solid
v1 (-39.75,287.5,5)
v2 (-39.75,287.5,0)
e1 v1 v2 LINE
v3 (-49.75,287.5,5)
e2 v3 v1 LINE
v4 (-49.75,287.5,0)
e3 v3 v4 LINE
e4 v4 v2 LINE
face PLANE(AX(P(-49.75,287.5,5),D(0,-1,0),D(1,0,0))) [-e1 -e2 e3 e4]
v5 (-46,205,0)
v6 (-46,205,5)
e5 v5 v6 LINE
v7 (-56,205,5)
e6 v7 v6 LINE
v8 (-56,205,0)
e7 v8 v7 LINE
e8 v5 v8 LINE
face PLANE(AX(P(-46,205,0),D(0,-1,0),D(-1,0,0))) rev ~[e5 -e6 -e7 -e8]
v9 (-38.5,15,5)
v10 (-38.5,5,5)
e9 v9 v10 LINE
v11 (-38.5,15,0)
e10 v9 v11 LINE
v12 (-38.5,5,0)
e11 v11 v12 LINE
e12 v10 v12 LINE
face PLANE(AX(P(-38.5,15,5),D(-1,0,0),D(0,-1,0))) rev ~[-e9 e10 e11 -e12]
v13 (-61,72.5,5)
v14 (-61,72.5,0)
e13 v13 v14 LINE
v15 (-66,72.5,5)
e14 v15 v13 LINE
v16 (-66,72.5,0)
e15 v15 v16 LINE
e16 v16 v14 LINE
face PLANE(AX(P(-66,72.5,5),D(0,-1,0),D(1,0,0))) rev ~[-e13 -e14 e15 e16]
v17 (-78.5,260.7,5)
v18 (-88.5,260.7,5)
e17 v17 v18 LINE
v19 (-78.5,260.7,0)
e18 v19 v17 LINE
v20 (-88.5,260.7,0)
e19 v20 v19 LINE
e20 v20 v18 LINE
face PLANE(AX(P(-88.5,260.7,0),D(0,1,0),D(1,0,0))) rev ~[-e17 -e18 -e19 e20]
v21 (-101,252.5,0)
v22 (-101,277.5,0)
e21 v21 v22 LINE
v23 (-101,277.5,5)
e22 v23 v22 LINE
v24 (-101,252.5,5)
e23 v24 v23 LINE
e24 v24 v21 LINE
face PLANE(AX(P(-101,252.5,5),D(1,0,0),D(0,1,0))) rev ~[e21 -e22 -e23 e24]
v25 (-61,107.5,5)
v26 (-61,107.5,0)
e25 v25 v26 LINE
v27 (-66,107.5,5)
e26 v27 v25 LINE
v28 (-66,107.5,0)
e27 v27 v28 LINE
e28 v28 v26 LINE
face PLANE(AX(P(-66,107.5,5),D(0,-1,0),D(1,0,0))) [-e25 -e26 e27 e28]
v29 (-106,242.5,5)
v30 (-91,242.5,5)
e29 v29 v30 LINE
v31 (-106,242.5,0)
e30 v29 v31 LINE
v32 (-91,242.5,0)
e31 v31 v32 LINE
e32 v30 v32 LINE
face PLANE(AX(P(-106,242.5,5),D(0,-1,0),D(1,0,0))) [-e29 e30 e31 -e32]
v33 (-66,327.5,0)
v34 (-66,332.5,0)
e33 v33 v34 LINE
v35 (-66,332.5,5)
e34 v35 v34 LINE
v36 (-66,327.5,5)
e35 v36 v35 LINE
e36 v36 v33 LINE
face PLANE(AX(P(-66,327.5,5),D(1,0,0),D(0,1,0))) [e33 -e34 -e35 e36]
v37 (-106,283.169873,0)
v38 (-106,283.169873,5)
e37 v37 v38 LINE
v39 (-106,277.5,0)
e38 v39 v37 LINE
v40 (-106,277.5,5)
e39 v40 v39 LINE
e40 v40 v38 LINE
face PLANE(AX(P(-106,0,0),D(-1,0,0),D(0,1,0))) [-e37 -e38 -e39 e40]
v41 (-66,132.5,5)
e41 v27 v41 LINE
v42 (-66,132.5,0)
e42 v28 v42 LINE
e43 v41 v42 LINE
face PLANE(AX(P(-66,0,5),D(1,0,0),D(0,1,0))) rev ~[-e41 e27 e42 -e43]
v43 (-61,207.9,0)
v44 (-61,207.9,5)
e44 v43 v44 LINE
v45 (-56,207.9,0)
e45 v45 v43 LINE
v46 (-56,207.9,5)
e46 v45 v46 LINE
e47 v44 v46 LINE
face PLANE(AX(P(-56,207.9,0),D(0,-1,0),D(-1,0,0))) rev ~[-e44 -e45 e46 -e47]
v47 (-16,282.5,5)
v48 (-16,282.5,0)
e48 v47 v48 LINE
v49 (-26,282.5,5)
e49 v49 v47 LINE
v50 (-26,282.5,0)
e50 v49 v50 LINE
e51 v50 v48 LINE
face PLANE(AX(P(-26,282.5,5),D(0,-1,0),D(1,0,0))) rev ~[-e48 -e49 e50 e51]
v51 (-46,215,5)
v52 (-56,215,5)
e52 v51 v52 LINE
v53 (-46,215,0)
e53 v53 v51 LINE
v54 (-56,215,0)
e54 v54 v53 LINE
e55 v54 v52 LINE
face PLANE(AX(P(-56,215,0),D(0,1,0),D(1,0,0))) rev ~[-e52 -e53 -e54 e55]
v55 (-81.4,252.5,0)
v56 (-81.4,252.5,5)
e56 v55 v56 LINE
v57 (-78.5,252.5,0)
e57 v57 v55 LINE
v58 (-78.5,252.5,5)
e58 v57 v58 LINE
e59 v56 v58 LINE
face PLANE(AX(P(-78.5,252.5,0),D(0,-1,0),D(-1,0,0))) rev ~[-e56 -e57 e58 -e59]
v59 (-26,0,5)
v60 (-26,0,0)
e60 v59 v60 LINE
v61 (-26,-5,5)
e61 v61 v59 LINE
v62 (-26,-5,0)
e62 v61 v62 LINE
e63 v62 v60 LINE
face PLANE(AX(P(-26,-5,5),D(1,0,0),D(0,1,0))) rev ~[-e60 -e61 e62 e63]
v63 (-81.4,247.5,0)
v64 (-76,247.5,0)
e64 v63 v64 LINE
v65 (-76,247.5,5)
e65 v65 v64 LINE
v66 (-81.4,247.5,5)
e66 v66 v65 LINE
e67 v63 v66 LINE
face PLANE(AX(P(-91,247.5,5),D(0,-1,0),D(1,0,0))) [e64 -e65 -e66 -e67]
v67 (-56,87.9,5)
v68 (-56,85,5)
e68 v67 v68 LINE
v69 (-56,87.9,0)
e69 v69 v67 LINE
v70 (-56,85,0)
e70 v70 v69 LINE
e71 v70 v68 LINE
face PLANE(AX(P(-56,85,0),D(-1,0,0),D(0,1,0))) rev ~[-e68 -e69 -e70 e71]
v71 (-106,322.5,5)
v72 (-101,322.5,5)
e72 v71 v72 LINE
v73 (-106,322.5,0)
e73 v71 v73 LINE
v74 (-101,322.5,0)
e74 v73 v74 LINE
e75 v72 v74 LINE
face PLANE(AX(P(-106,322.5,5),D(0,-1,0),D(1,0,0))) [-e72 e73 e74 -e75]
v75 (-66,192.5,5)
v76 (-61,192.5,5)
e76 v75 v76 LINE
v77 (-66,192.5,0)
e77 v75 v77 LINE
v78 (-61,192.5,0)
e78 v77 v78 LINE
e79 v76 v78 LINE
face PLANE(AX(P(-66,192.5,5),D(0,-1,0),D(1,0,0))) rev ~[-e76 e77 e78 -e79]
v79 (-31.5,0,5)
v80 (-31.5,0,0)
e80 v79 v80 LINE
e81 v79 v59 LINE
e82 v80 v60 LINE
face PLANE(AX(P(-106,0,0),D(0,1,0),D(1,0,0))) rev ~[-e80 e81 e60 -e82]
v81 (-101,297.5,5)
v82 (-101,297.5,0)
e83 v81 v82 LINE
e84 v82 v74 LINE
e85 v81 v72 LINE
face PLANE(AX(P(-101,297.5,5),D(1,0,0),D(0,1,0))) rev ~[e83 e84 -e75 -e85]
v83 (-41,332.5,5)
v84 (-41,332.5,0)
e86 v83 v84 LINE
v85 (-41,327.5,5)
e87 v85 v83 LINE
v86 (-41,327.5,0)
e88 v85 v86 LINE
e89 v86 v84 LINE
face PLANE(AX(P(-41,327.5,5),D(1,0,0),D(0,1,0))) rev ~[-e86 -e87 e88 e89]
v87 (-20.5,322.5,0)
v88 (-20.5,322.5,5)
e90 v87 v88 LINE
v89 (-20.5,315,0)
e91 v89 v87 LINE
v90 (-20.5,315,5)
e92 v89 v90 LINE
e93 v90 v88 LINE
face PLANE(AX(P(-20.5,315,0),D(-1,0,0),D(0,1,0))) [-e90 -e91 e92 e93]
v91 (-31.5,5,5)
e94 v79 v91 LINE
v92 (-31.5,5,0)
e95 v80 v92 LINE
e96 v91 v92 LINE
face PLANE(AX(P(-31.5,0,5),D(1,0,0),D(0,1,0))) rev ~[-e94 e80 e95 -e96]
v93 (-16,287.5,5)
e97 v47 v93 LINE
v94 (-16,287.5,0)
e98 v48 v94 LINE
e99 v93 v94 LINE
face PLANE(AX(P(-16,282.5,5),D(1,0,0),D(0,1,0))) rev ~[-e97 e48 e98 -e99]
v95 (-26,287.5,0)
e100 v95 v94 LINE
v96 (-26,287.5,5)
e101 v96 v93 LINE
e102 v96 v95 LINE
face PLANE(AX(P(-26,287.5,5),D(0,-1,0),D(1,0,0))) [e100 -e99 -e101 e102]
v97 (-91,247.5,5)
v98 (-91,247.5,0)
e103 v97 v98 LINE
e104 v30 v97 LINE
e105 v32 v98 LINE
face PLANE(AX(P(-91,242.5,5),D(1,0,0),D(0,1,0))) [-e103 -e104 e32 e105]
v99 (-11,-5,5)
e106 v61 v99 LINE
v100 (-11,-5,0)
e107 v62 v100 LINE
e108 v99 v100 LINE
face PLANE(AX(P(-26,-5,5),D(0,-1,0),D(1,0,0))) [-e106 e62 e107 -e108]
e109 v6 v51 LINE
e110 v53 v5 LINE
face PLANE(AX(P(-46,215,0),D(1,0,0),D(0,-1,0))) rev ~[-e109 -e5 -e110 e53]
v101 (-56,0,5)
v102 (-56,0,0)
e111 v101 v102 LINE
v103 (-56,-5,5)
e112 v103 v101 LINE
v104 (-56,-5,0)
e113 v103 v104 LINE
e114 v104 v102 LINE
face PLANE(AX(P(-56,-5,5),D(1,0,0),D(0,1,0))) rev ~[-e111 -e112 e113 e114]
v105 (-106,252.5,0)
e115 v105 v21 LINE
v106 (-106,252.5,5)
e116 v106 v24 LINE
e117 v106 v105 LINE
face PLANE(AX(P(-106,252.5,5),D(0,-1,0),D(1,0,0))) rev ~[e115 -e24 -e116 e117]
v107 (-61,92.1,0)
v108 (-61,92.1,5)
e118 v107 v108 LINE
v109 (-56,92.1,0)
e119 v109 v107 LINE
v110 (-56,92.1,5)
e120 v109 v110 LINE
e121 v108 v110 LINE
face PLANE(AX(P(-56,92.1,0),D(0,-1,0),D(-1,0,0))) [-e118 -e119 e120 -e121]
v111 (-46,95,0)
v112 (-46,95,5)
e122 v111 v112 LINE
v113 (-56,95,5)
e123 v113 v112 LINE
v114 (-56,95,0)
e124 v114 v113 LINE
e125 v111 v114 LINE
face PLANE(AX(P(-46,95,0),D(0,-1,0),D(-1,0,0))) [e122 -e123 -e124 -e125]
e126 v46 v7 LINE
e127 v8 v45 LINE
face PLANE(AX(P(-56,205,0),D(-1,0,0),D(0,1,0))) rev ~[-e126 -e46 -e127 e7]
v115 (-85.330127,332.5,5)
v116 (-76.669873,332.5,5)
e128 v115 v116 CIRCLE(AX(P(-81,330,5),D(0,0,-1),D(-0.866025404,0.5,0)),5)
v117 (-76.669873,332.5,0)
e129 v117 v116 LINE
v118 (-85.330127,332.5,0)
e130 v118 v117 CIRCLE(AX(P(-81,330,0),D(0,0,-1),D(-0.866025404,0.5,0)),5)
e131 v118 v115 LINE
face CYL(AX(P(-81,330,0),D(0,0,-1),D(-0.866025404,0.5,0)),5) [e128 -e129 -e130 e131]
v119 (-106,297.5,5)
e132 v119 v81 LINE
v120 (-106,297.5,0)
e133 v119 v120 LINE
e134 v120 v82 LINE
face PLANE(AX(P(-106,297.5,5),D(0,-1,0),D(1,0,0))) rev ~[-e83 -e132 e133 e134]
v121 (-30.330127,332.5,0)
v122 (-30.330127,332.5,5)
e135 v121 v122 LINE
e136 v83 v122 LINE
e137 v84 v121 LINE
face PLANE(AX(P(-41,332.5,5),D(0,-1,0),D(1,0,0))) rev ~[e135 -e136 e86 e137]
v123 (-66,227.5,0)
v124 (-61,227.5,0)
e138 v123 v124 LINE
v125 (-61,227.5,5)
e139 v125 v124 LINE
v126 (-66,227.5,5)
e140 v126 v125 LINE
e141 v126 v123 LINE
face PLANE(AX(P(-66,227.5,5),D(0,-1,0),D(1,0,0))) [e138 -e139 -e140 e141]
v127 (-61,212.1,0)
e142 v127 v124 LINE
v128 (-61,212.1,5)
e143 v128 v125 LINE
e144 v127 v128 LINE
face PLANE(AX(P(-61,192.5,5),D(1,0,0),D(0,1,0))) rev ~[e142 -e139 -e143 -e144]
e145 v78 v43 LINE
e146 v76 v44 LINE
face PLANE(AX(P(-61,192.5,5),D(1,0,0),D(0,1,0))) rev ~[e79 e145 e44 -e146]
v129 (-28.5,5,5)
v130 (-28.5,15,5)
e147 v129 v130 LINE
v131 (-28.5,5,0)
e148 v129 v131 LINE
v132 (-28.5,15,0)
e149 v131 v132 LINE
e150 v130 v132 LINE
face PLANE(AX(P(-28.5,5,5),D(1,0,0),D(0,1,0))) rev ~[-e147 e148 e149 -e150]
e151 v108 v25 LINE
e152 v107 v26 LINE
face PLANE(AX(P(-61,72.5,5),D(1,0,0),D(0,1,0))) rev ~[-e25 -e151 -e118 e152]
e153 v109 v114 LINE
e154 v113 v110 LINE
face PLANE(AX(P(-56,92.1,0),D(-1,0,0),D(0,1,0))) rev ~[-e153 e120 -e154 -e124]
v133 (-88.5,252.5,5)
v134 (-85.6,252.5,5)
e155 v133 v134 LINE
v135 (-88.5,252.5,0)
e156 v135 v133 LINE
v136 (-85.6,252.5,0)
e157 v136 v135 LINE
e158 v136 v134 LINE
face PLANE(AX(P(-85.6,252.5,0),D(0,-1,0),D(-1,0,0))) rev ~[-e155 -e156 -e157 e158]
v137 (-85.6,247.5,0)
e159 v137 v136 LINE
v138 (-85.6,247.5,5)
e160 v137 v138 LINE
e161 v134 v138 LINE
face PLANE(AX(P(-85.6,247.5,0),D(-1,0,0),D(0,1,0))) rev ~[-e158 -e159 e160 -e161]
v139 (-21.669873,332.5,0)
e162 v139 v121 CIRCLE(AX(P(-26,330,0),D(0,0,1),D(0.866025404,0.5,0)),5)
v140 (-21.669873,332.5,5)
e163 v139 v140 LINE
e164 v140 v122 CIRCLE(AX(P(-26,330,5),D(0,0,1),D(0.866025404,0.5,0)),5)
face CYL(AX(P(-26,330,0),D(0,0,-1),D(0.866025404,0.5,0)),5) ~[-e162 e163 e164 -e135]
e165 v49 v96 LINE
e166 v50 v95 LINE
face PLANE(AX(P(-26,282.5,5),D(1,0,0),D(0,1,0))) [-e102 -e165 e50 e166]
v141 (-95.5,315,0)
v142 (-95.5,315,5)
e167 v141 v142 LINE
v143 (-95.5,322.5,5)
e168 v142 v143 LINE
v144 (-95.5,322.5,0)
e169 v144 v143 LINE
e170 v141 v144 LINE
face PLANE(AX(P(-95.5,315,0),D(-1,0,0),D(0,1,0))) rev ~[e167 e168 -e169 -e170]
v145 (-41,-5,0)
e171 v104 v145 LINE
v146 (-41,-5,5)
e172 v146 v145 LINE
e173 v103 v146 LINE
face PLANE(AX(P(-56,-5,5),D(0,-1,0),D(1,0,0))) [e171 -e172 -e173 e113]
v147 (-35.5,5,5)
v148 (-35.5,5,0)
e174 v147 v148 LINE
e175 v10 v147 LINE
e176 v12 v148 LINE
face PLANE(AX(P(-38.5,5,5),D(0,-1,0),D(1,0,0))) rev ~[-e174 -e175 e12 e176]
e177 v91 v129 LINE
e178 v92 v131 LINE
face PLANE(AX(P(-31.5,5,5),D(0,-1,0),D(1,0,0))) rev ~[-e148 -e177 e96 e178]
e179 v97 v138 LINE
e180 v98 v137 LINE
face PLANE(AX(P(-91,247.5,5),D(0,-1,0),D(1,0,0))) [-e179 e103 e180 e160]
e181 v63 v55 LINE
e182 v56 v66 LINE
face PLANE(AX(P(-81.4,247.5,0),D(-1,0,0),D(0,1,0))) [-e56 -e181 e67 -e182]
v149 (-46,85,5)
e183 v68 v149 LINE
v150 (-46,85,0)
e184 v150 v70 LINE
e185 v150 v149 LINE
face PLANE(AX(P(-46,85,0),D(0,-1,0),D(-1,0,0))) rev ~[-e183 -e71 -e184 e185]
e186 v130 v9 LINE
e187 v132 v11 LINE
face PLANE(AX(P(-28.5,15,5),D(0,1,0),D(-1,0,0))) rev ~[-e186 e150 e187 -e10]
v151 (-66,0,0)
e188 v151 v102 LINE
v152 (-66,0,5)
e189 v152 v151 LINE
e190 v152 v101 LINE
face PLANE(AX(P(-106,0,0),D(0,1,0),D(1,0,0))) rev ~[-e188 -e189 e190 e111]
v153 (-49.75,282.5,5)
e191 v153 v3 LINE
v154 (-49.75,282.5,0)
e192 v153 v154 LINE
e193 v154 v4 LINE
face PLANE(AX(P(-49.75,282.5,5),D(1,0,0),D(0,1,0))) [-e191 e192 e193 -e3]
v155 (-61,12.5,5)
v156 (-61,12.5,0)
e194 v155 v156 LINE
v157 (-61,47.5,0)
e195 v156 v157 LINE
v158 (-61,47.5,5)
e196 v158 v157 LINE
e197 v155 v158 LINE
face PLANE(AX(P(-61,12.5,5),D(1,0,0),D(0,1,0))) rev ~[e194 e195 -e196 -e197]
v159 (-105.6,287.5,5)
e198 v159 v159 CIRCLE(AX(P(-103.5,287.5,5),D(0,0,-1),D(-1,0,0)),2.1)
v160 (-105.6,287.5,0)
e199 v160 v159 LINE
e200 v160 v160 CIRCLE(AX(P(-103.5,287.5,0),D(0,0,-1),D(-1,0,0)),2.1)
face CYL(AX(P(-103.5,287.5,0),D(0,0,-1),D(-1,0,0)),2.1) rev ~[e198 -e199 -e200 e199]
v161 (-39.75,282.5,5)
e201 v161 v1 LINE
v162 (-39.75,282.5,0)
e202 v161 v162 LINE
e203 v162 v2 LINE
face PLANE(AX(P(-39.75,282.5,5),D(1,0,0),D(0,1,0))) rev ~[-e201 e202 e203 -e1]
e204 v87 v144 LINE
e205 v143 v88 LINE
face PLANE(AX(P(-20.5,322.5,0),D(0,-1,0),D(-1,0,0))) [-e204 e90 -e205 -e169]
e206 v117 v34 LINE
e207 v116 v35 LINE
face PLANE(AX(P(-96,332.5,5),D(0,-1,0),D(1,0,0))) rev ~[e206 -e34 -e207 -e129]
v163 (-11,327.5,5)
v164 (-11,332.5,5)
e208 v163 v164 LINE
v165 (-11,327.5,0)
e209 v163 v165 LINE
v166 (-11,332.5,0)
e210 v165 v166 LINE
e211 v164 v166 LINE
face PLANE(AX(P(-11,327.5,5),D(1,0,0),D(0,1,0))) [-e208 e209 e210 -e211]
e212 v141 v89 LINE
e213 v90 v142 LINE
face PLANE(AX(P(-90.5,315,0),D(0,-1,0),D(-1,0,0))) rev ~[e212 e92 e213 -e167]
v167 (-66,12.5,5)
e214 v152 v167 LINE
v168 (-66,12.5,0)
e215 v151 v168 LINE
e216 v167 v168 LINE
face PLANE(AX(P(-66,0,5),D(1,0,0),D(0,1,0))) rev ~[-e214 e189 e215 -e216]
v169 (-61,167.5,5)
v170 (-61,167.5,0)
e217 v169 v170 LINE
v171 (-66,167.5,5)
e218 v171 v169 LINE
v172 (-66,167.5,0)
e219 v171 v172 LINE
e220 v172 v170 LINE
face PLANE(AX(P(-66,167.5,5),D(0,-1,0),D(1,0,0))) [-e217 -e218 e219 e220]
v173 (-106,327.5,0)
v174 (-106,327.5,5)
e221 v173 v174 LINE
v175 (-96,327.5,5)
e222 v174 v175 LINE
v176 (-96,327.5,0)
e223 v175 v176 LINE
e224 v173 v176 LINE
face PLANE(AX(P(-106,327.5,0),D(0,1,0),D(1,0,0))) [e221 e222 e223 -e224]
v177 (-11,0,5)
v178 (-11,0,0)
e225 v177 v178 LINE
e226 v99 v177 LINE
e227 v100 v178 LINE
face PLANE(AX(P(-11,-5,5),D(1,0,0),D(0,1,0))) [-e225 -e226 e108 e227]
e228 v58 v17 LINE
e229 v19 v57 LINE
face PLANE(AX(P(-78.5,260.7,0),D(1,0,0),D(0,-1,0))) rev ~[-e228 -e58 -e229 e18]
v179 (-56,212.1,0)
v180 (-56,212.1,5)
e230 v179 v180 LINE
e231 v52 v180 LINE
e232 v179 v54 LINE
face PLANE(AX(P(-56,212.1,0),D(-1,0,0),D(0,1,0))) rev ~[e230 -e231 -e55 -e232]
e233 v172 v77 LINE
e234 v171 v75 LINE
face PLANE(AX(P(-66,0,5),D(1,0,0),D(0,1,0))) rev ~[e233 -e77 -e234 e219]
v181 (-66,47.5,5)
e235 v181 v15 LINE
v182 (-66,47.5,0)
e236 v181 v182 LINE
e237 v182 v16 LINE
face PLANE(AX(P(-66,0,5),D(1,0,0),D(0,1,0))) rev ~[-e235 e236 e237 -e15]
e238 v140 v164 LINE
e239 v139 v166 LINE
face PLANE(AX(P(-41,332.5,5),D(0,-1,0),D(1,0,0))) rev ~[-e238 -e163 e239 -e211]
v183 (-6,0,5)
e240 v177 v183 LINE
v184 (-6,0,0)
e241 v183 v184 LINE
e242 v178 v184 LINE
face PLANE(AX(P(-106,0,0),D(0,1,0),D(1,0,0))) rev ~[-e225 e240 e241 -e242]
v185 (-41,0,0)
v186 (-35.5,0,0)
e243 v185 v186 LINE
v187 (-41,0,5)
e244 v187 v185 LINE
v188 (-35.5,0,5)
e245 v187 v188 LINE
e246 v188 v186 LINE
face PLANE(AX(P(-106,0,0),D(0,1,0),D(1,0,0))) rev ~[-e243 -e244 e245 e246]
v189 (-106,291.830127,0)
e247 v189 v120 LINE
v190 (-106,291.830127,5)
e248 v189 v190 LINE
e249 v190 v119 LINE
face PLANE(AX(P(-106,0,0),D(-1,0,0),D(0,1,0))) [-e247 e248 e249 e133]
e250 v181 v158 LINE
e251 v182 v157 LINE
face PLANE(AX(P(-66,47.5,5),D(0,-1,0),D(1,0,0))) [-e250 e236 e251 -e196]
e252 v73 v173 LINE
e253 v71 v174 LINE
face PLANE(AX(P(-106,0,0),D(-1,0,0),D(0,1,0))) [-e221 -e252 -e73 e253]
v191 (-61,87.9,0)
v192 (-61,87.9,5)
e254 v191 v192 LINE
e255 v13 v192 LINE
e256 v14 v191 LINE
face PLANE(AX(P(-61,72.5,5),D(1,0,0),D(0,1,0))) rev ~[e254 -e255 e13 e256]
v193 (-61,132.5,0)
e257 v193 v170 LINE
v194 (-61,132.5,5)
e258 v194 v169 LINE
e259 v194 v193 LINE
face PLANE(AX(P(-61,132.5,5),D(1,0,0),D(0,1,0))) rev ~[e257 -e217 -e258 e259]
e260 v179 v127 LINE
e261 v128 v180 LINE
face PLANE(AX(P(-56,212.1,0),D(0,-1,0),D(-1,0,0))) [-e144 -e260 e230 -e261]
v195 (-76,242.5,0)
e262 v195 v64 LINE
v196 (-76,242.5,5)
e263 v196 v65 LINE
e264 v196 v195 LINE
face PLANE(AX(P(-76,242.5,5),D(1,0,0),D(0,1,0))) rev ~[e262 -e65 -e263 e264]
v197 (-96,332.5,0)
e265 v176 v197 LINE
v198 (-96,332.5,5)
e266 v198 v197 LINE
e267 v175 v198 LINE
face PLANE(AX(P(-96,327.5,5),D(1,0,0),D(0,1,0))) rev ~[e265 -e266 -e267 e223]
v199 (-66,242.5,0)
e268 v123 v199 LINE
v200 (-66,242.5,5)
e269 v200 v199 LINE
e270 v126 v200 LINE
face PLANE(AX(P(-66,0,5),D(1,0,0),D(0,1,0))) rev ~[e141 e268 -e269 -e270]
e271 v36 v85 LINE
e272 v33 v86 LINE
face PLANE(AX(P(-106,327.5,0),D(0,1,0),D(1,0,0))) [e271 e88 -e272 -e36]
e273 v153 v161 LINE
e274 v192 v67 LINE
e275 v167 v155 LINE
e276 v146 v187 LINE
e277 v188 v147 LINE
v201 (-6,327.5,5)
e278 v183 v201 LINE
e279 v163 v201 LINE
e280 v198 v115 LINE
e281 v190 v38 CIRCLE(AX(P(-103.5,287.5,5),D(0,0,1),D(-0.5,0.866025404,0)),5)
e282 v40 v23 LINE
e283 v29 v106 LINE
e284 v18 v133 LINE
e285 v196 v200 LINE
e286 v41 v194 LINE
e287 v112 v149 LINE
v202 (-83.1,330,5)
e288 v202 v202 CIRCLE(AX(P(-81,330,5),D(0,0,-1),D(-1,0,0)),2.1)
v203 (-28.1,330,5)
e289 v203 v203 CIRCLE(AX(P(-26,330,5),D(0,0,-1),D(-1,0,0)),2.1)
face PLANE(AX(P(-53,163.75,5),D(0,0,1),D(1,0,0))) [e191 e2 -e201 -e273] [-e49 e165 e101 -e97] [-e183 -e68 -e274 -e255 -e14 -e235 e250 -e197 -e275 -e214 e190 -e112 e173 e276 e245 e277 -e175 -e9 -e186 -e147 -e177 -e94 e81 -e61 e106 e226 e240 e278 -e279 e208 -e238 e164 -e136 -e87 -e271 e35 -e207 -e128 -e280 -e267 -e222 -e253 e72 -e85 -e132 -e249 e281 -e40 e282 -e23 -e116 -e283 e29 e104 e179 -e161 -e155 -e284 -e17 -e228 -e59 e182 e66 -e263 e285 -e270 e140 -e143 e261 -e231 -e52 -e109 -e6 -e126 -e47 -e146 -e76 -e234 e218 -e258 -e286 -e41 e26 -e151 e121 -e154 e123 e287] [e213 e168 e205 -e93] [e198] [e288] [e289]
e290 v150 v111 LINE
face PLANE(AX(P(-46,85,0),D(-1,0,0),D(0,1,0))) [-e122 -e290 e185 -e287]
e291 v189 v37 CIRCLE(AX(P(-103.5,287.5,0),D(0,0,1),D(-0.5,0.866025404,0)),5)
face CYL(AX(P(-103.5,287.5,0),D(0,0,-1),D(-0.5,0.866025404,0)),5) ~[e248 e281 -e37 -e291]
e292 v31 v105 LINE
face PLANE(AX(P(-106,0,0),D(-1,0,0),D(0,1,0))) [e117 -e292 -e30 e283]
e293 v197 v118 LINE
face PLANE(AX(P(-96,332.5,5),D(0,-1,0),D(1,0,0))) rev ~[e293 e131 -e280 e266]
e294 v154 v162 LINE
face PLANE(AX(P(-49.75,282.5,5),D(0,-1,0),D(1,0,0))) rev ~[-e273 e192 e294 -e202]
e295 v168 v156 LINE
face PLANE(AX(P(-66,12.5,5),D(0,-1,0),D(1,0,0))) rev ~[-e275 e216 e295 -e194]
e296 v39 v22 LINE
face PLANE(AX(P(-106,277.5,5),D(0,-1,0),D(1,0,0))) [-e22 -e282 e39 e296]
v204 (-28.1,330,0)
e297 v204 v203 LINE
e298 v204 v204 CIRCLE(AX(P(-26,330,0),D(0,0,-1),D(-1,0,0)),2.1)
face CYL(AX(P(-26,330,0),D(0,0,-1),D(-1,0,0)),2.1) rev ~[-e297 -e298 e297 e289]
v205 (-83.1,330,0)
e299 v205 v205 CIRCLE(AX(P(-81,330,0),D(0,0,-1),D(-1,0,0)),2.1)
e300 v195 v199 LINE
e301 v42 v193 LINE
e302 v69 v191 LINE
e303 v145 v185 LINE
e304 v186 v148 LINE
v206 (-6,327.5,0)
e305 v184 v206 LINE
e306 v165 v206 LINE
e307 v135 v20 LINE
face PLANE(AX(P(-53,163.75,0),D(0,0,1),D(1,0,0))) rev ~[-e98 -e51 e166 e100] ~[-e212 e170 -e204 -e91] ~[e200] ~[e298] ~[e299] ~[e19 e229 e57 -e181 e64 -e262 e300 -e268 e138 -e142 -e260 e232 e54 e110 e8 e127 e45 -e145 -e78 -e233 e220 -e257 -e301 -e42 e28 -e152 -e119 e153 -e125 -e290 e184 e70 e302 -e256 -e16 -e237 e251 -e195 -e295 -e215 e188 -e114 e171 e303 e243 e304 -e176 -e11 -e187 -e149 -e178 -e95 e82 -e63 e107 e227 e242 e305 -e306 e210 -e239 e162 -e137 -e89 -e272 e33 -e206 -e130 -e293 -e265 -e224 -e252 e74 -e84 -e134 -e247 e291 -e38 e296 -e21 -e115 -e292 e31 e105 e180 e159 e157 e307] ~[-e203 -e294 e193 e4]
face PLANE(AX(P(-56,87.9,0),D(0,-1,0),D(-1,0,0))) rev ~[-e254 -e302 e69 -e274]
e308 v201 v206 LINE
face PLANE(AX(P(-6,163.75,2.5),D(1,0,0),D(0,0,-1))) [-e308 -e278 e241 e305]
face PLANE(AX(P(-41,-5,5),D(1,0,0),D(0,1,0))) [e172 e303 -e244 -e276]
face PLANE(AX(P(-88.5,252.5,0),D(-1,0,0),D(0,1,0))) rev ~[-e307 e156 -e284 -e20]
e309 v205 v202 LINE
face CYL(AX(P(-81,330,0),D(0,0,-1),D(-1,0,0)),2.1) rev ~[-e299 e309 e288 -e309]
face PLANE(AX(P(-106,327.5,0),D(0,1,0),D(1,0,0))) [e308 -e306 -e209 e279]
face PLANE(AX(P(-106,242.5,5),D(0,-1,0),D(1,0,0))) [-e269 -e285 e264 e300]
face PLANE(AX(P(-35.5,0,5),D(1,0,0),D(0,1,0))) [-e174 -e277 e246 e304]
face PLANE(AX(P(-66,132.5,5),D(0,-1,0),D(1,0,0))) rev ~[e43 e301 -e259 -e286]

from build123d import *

# Parameters (mm, degrees)
SKETCH1_W           = 106
SKETCH1_H           = 327.5
BOSS_EXTRUDE1_DEPTH = 5
SKETCH2_W           = 40
SKETCH2_H           = 242.5
CUT_EXTRUDE1_DEPTH  = 5
SKETCH3_W           = 5
SKETCH3_H           = 25
CUT_EXTRUDE2_DEPTH  = 5
SKETCH4_W           = 30
SKETCH4_H           = 5
BOSS_EXTRUDE2_DEPTH = 5
SKETCH5_W           = 15
SKETCH5_H           = 5
CUT_EXTRUDE3_DEPTH  = 5
SKETCH6_W           = 5
SKETCH6_H           = 35
CUT_EXTRUDE4_DEPTH  = 5
SKETCH7_W           = 10
SKETCH7_H           = 5
CUT_EXTRUDE5_DEPTH  = 5
SKETCH8_W           = 15
SKETCH8_H           = 5
BOSS_EXTRUDE3_DEPTH = 5
SKETCH9_W           = 70
SKETCH9_H           = 7.5
CUT_EXTRUDE6_DEPTH  = 5
SKETCH10_W          = 5
SKETCH10_H          = 227.5
BOSS_EXTRUDE4_DEPTH = 5
SKETCH11_R          = 2.1
CUT_EXTRUDE7_DEPTH  = 5
BOSS_EXTRUDE5_DEPTH = 5
SKETCH13_W          = 10
SKETCH13_H          = 327.5
SKETCH13_W_2        = 11.118393302
SKETCH13_H_2        = 31.265749724
SKETCH13_W_3        = 24.993123917
SKETCH13_H_3        = 36.030112223
CUT_EXTRUDE8_DEPTH  = 10
SKETCH14_W          = 5
SKETCH14_H          = 327.5
CUT_EXTRUDE9_DEPTH  = 1
SKETCH15_W          = 4.2
SKETCH15_H          = 5
SKETCH15_W_2        = 5
SKETCH15_H_2        = 4.2
SKETCH15_W_3        = 10
SKETCH15_H_3        = 10
CUT_EXTRUDE10_DEPTH = 10
SKETCH16_R          = 2.1
CUT_EXTRUDE11_DEPTH = 10
BOSS_EXTRUDE6_DEPTH = 5
SKETCH19_W          = 4
SKETCH19_H          = 5
CUT_EXTRUDE13_DEPTH = 5
SKETCH20_R          = 2.1
CUT_EXTRUDE14_DEPTH = 5
BOSS_EXTRUDE7_DEPTH = 5
SKETCH22_W          = 5
SKETCH22_H          = 7.5
CUT_EXTRUDE15_DEPTH = 5


with BuildPart() as part:
    # Sketch1 → Boss-Extrude1 (new body)
    with BuildSketch(Plane.XY):
        with Locations((-53, 163.75)):
            Rectangle(SKETCH1_W, SKETCH1_H)
    extrude(amount=BOSS_EXTRUDE1_DEPTH)

    # Sketch2 → Cut-Extrude1 (cut)
    with BuildSketch(Plane.XY.offset(5)):
        with Locations((-86, 121.25)):
            Rectangle(SKETCH2_W, SKETCH2_H)
    extrude(amount=-CUT_EXTRUDE1_DEPTH, mode=Mode.SUBTRACT)

    # Sketch3 → Cut-Extrude2 (cut)
    with BuildSketch(Plane.XY.offset(5)):
        with Locations((-103.5, 310)):
            Rectangle(SKETCH3_W, SKETCH3_H)
        with Locations((-103.5, 265)):
            Rectangle(SKETCH3_W, SKETCH3_H)
    extrude(amount=-CUT_EXTRUDE2_DEPTH, mode=Mode.SUBTRACT)

    # Sketch4 → Boss-Extrude2 (add)
    with BuildSketch(Plane.XY.offset(5)):
        with Locations((-26, 330)):
            Rectangle(SKETCH4_W, SKETCH4_H)
        with Locations((-81, 330)):
            Rectangle(SKETCH4_W, SKETCH4_H)
    extrude(amount=-BOSS_EXTRUDE2_DEPTH)

    # Sketch5 → Cut-Extrude3 (cut)
    with BuildSketch(Plane.XY.offset(5)):
        with Locations((-83.5, 245)):
            Rectangle(SKETCH5_W, SKETCH5_H)
    extrude(amount=-CUT_EXTRUDE3_DEPTH, mode=Mode.SUBTRACT)

    # Sketch6 → Cut-Extrude4 (cut)
    with BuildSketch(Plane.XY.offset(5)):
        with Locations((-63.5, 210)):
            Rectangle(SKETCH6_W, SKETCH6_H)
        with Locations((-63.5, 150)):
            Rectangle(SKETCH6_W, SKETCH6_H)
        with Locations((-63.5, 90)):
            Rectangle(SKETCH6_W, SKETCH6_H)
        with Locations((-63.5, 30)):
            Rectangle(SKETCH6_W, SKETCH6_H)
    extrude(amount=-CUT_EXTRUDE4_DEPTH, mode=Mode.SUBTRACT)

    # Sketch7 → Cut-Extrude5 (cut)
    with BuildSketch(Plane.XY.offset(5)):
        with Locations((-21, 285)):
            Rectangle(SKETCH7_W, SKETCH7_H)
        with Locations((-44.75, 285)):
            Rectangle(SKETCH7_W, SKETCH7_H)
    extrude(amount=-CUT_EXTRUDE5_DEPTH, mode=Mode.SUBTRACT)

    # Sketch8 → Boss-Extrude3 (add)
    with BuildSketch(Plane.XY.offset(5)):
        with Locations((-18.5, -2.5)):
            Rectangle(SKETCH8_W, SKETCH8_H)
        with Locations((-48.5, -2.5)):
            Rectangle(SKETCH8_W, SKETCH8_H)
    extrude(amount=-BOSS_EXTRUDE3_DEPTH)

    # Sketch9 → Cut-Extrude6 (cut)
    with BuildSketch(Plane(origin=(0, 0, 0), x_dir=(-1, 0, 0), z_dir=(0, 0, -1))):
        with Locations((55.5, 318.75)):
            Rectangle(SKETCH9_W, SKETCH9_H)
    extrude(amount=-CUT_EXTRUDE6_DEPTH, mode=Mode.SUBTRACT)

    # Sketch10 → Boss-Extrude4 (add)
    with BuildSketch(Plane(origin=(0, 0, 0), x_dir=(-1, 0, 0), z_dir=(0, 0, -1))):
        with Locations((-2.5, 163.75)):
            Rectangle(SKETCH10_W, SKETCH10_H)
    extrude(amount=-BOSS_EXTRUDE4_DEPTH)

    # Sketch11 → Cut-Extrude7 (cut)
    with BuildSketch(Plane(origin=(0, 0, 0), x_dir=(-1, 0, 0), z_dir=(0, 0, -1))):
        with Locations((-2.5, 75)):
            Circle(SKETCH11_R)
        with Locations((-2.5, 252.5)):
            Circle(SKETCH11_R)
    extrude(amount=-CUT_EXTRUDE7_DEPTH, mode=Mode.SUBTRACT)

    # Sketch12 → Boss-Extrude5 (add)
    with BuildSketch(Plane(origin=(0, 0, 0), x_dir=(-1, 0, 0), z_dir=(0, 0, -1))):
        with BuildLine():
            Line((-5, 70.669872981), (-5, 79.330127019))
            ThreePointArc((-5, 79.330127019), (-7.5, 75), (-5, 70.669872981))
        make_face()
        with BuildLine():
            Line((-5, 256.830127019), (-5, 248.169872981))
            ThreePointArc((-5, 248.169872981), (-7.5, 252.5), (-5, 256.830127019))
        make_face()
    extrude(amount=-BOSS_EXTRUDE5_DEPTH)

    # Sketch13 → Cut-Extrude8 (cut)
    with BuildSketch(Plane(origin=(0, 0, 0), x_dir=(-1, 0, 0), z_dir=(0, 0, -1))):
        with Locations((0, 163.75)):
            Rectangle(SKETCH13_W, SKETCH13_H)
        with Locations((-10.559196651, 252.176794505)):
            Rectangle(SKETCH13_W_2, SKETCH13_H_2)
        with Locations((-17.496561959, 79.007982861)):
            Rectangle(SKETCH13_W_3, SKETCH13_H_3)
    extrude(amount=-CUT_EXTRUDE8_DEPTH, mode=Mode.SUBTRACT)

    # Sketch14 → Cut-Extrude9 (cut)
    with BuildSketch(Plane(origin=(-5, 0, 0), x_dir=(0, 0, -1), z_dir=(1, 0, 0))):
        with Locations((-2.5, 163.75)):
            Rectangle(SKETCH14_W, SKETCH14_H)
    extrude(amount=-CUT_EXTRUDE9_DEPTH, mode=Mode.SUBTRACT)

    # Sketch15 → Cut-Extrude10 (cut)
    with BuildSketch(Plane(origin=(0, 0, 0), x_dir=(-1, 0, 0), z_dir=(0, 0, -1))):
        Polygon((78.5, 252.5), (81.4, 252.5), (85.6, 252.5), (88.5, 252.5), (88.5, 260.7), (78.5, 260.7), align=None)
        with Locations((83.5, 250)):
            Rectangle(SKETCH15_W, SKETCH15_H)
        Polygon((56, 207.9), (56, 212.1), (56, 215), (46, 215), (46, 205), (56, 205), align=None)
        with Locations((58.5, 210)):
            Rectangle(SKETCH15_W_2, SKETCH15_H_2)
        with Locations((51, 90)):
            Rectangle(SKETCH15_W_3, SKETCH15_H_3)
        with Locations((58.5, 90)):
            Rectangle(SKETCH15_W_2, SKETCH15_H_2)
    extrude(amount=-CUT_EXTRUDE10_DEPTH, mode=Mode.SUBTRACT)

    # Sketch16 → Cut-Extrude11 (cut)
    with BuildSketch(Plane(origin=(0, 0, 0), x_dir=(-1, 0, 0), z_dir=(0, 0, -1))):
        with Locations((103.5, 287.5)):
            Circle(SKETCH16_R)
    extrude(amount=-CUT_EXTRUDE11_DEPTH, mode=Mode.SUBTRACT)

    # Sketch17 → Boss-Extrude6 (add)
    with BuildSketch(Plane(origin=(0, 0, 0), x_dir=(-1, 0, 0), z_dir=(0, 0, -1))):
        with BuildLine():
            Line((106, 283.169872981), (106, 291.830127019))
            ThreePointArc((106, 291.830127019), (108.5, 287.5), (106, 283.169872981))
        make_face()
    extrude(amount=-BOSS_EXTRUDE6_DEPTH)

    # Sketch19 → Cut-Extrude13 (cut)
    with BuildSketch(Plane.XY.offset(5)):
        with Locations((-33.5, 2.5)):
            Rectangle(SKETCH19_W, SKETCH19_H)
        Polygon((-38.5, 5), (-35.5, 5), (-31.5, 5), (-28.5, 5), (-28.5, 15), (-38.5, 15), align=None)
    extrude(amount=-CUT_EXTRUDE13_DEPTH, mode=Mode.SUBTRACT)

    # Sketch20 → Cut-Extrude14 (cut)
    with BuildSketch(Plane(origin=(0, 0, 0), x_dir=(-1, 0, 0), z_dir=(0, 0, -1))):
        with Locations((26, 330)):
            Circle(SKETCH20_R)
        with Locations((81, 330)):
            Circle(SKETCH20_R)
    extrude(amount=-CUT_EXTRUDE14_DEPTH, mode=Mode.SUBTRACT)

    # Sketch21 → Boss-Extrude7 (add)
    with BuildSketch(Plane(origin=(0, 0, 0), x_dir=(-1, 0, 0), z_dir=(0, 0, -1))):
        with BuildLine():
            Line((30.330127019, 332.5), (21.669872981, 332.5))
            ThreePointArc((21.669872981, 332.5), (26, 335), (30.330127019, 332.5))
        make_face()
        with BuildLine():
            Line((76.669872981, 332.5), (85.330127019, 332.5))
            ThreePointArc((85.330127019, 332.5), (81, 335), (76.669872981, 332.5))
        make_face()
    extrude(amount=-BOSS_EXTRUDE7_DEPTH)

    # Sketch22 → Cut-Extrude15 (cut)
    with BuildSketch(Plane(origin=(0, 0, 0), x_dir=(-1, 0, 0), z_dir=(0, 0, -1))):
        with Locations((93, 318.75)):
            Rectangle(SKETCH22_W, SKETCH22_H)
    extrude(amount=-CUT_EXTRUDE15_DEPTH, mode=Mode.SUBTRACT)


solid = part.part
